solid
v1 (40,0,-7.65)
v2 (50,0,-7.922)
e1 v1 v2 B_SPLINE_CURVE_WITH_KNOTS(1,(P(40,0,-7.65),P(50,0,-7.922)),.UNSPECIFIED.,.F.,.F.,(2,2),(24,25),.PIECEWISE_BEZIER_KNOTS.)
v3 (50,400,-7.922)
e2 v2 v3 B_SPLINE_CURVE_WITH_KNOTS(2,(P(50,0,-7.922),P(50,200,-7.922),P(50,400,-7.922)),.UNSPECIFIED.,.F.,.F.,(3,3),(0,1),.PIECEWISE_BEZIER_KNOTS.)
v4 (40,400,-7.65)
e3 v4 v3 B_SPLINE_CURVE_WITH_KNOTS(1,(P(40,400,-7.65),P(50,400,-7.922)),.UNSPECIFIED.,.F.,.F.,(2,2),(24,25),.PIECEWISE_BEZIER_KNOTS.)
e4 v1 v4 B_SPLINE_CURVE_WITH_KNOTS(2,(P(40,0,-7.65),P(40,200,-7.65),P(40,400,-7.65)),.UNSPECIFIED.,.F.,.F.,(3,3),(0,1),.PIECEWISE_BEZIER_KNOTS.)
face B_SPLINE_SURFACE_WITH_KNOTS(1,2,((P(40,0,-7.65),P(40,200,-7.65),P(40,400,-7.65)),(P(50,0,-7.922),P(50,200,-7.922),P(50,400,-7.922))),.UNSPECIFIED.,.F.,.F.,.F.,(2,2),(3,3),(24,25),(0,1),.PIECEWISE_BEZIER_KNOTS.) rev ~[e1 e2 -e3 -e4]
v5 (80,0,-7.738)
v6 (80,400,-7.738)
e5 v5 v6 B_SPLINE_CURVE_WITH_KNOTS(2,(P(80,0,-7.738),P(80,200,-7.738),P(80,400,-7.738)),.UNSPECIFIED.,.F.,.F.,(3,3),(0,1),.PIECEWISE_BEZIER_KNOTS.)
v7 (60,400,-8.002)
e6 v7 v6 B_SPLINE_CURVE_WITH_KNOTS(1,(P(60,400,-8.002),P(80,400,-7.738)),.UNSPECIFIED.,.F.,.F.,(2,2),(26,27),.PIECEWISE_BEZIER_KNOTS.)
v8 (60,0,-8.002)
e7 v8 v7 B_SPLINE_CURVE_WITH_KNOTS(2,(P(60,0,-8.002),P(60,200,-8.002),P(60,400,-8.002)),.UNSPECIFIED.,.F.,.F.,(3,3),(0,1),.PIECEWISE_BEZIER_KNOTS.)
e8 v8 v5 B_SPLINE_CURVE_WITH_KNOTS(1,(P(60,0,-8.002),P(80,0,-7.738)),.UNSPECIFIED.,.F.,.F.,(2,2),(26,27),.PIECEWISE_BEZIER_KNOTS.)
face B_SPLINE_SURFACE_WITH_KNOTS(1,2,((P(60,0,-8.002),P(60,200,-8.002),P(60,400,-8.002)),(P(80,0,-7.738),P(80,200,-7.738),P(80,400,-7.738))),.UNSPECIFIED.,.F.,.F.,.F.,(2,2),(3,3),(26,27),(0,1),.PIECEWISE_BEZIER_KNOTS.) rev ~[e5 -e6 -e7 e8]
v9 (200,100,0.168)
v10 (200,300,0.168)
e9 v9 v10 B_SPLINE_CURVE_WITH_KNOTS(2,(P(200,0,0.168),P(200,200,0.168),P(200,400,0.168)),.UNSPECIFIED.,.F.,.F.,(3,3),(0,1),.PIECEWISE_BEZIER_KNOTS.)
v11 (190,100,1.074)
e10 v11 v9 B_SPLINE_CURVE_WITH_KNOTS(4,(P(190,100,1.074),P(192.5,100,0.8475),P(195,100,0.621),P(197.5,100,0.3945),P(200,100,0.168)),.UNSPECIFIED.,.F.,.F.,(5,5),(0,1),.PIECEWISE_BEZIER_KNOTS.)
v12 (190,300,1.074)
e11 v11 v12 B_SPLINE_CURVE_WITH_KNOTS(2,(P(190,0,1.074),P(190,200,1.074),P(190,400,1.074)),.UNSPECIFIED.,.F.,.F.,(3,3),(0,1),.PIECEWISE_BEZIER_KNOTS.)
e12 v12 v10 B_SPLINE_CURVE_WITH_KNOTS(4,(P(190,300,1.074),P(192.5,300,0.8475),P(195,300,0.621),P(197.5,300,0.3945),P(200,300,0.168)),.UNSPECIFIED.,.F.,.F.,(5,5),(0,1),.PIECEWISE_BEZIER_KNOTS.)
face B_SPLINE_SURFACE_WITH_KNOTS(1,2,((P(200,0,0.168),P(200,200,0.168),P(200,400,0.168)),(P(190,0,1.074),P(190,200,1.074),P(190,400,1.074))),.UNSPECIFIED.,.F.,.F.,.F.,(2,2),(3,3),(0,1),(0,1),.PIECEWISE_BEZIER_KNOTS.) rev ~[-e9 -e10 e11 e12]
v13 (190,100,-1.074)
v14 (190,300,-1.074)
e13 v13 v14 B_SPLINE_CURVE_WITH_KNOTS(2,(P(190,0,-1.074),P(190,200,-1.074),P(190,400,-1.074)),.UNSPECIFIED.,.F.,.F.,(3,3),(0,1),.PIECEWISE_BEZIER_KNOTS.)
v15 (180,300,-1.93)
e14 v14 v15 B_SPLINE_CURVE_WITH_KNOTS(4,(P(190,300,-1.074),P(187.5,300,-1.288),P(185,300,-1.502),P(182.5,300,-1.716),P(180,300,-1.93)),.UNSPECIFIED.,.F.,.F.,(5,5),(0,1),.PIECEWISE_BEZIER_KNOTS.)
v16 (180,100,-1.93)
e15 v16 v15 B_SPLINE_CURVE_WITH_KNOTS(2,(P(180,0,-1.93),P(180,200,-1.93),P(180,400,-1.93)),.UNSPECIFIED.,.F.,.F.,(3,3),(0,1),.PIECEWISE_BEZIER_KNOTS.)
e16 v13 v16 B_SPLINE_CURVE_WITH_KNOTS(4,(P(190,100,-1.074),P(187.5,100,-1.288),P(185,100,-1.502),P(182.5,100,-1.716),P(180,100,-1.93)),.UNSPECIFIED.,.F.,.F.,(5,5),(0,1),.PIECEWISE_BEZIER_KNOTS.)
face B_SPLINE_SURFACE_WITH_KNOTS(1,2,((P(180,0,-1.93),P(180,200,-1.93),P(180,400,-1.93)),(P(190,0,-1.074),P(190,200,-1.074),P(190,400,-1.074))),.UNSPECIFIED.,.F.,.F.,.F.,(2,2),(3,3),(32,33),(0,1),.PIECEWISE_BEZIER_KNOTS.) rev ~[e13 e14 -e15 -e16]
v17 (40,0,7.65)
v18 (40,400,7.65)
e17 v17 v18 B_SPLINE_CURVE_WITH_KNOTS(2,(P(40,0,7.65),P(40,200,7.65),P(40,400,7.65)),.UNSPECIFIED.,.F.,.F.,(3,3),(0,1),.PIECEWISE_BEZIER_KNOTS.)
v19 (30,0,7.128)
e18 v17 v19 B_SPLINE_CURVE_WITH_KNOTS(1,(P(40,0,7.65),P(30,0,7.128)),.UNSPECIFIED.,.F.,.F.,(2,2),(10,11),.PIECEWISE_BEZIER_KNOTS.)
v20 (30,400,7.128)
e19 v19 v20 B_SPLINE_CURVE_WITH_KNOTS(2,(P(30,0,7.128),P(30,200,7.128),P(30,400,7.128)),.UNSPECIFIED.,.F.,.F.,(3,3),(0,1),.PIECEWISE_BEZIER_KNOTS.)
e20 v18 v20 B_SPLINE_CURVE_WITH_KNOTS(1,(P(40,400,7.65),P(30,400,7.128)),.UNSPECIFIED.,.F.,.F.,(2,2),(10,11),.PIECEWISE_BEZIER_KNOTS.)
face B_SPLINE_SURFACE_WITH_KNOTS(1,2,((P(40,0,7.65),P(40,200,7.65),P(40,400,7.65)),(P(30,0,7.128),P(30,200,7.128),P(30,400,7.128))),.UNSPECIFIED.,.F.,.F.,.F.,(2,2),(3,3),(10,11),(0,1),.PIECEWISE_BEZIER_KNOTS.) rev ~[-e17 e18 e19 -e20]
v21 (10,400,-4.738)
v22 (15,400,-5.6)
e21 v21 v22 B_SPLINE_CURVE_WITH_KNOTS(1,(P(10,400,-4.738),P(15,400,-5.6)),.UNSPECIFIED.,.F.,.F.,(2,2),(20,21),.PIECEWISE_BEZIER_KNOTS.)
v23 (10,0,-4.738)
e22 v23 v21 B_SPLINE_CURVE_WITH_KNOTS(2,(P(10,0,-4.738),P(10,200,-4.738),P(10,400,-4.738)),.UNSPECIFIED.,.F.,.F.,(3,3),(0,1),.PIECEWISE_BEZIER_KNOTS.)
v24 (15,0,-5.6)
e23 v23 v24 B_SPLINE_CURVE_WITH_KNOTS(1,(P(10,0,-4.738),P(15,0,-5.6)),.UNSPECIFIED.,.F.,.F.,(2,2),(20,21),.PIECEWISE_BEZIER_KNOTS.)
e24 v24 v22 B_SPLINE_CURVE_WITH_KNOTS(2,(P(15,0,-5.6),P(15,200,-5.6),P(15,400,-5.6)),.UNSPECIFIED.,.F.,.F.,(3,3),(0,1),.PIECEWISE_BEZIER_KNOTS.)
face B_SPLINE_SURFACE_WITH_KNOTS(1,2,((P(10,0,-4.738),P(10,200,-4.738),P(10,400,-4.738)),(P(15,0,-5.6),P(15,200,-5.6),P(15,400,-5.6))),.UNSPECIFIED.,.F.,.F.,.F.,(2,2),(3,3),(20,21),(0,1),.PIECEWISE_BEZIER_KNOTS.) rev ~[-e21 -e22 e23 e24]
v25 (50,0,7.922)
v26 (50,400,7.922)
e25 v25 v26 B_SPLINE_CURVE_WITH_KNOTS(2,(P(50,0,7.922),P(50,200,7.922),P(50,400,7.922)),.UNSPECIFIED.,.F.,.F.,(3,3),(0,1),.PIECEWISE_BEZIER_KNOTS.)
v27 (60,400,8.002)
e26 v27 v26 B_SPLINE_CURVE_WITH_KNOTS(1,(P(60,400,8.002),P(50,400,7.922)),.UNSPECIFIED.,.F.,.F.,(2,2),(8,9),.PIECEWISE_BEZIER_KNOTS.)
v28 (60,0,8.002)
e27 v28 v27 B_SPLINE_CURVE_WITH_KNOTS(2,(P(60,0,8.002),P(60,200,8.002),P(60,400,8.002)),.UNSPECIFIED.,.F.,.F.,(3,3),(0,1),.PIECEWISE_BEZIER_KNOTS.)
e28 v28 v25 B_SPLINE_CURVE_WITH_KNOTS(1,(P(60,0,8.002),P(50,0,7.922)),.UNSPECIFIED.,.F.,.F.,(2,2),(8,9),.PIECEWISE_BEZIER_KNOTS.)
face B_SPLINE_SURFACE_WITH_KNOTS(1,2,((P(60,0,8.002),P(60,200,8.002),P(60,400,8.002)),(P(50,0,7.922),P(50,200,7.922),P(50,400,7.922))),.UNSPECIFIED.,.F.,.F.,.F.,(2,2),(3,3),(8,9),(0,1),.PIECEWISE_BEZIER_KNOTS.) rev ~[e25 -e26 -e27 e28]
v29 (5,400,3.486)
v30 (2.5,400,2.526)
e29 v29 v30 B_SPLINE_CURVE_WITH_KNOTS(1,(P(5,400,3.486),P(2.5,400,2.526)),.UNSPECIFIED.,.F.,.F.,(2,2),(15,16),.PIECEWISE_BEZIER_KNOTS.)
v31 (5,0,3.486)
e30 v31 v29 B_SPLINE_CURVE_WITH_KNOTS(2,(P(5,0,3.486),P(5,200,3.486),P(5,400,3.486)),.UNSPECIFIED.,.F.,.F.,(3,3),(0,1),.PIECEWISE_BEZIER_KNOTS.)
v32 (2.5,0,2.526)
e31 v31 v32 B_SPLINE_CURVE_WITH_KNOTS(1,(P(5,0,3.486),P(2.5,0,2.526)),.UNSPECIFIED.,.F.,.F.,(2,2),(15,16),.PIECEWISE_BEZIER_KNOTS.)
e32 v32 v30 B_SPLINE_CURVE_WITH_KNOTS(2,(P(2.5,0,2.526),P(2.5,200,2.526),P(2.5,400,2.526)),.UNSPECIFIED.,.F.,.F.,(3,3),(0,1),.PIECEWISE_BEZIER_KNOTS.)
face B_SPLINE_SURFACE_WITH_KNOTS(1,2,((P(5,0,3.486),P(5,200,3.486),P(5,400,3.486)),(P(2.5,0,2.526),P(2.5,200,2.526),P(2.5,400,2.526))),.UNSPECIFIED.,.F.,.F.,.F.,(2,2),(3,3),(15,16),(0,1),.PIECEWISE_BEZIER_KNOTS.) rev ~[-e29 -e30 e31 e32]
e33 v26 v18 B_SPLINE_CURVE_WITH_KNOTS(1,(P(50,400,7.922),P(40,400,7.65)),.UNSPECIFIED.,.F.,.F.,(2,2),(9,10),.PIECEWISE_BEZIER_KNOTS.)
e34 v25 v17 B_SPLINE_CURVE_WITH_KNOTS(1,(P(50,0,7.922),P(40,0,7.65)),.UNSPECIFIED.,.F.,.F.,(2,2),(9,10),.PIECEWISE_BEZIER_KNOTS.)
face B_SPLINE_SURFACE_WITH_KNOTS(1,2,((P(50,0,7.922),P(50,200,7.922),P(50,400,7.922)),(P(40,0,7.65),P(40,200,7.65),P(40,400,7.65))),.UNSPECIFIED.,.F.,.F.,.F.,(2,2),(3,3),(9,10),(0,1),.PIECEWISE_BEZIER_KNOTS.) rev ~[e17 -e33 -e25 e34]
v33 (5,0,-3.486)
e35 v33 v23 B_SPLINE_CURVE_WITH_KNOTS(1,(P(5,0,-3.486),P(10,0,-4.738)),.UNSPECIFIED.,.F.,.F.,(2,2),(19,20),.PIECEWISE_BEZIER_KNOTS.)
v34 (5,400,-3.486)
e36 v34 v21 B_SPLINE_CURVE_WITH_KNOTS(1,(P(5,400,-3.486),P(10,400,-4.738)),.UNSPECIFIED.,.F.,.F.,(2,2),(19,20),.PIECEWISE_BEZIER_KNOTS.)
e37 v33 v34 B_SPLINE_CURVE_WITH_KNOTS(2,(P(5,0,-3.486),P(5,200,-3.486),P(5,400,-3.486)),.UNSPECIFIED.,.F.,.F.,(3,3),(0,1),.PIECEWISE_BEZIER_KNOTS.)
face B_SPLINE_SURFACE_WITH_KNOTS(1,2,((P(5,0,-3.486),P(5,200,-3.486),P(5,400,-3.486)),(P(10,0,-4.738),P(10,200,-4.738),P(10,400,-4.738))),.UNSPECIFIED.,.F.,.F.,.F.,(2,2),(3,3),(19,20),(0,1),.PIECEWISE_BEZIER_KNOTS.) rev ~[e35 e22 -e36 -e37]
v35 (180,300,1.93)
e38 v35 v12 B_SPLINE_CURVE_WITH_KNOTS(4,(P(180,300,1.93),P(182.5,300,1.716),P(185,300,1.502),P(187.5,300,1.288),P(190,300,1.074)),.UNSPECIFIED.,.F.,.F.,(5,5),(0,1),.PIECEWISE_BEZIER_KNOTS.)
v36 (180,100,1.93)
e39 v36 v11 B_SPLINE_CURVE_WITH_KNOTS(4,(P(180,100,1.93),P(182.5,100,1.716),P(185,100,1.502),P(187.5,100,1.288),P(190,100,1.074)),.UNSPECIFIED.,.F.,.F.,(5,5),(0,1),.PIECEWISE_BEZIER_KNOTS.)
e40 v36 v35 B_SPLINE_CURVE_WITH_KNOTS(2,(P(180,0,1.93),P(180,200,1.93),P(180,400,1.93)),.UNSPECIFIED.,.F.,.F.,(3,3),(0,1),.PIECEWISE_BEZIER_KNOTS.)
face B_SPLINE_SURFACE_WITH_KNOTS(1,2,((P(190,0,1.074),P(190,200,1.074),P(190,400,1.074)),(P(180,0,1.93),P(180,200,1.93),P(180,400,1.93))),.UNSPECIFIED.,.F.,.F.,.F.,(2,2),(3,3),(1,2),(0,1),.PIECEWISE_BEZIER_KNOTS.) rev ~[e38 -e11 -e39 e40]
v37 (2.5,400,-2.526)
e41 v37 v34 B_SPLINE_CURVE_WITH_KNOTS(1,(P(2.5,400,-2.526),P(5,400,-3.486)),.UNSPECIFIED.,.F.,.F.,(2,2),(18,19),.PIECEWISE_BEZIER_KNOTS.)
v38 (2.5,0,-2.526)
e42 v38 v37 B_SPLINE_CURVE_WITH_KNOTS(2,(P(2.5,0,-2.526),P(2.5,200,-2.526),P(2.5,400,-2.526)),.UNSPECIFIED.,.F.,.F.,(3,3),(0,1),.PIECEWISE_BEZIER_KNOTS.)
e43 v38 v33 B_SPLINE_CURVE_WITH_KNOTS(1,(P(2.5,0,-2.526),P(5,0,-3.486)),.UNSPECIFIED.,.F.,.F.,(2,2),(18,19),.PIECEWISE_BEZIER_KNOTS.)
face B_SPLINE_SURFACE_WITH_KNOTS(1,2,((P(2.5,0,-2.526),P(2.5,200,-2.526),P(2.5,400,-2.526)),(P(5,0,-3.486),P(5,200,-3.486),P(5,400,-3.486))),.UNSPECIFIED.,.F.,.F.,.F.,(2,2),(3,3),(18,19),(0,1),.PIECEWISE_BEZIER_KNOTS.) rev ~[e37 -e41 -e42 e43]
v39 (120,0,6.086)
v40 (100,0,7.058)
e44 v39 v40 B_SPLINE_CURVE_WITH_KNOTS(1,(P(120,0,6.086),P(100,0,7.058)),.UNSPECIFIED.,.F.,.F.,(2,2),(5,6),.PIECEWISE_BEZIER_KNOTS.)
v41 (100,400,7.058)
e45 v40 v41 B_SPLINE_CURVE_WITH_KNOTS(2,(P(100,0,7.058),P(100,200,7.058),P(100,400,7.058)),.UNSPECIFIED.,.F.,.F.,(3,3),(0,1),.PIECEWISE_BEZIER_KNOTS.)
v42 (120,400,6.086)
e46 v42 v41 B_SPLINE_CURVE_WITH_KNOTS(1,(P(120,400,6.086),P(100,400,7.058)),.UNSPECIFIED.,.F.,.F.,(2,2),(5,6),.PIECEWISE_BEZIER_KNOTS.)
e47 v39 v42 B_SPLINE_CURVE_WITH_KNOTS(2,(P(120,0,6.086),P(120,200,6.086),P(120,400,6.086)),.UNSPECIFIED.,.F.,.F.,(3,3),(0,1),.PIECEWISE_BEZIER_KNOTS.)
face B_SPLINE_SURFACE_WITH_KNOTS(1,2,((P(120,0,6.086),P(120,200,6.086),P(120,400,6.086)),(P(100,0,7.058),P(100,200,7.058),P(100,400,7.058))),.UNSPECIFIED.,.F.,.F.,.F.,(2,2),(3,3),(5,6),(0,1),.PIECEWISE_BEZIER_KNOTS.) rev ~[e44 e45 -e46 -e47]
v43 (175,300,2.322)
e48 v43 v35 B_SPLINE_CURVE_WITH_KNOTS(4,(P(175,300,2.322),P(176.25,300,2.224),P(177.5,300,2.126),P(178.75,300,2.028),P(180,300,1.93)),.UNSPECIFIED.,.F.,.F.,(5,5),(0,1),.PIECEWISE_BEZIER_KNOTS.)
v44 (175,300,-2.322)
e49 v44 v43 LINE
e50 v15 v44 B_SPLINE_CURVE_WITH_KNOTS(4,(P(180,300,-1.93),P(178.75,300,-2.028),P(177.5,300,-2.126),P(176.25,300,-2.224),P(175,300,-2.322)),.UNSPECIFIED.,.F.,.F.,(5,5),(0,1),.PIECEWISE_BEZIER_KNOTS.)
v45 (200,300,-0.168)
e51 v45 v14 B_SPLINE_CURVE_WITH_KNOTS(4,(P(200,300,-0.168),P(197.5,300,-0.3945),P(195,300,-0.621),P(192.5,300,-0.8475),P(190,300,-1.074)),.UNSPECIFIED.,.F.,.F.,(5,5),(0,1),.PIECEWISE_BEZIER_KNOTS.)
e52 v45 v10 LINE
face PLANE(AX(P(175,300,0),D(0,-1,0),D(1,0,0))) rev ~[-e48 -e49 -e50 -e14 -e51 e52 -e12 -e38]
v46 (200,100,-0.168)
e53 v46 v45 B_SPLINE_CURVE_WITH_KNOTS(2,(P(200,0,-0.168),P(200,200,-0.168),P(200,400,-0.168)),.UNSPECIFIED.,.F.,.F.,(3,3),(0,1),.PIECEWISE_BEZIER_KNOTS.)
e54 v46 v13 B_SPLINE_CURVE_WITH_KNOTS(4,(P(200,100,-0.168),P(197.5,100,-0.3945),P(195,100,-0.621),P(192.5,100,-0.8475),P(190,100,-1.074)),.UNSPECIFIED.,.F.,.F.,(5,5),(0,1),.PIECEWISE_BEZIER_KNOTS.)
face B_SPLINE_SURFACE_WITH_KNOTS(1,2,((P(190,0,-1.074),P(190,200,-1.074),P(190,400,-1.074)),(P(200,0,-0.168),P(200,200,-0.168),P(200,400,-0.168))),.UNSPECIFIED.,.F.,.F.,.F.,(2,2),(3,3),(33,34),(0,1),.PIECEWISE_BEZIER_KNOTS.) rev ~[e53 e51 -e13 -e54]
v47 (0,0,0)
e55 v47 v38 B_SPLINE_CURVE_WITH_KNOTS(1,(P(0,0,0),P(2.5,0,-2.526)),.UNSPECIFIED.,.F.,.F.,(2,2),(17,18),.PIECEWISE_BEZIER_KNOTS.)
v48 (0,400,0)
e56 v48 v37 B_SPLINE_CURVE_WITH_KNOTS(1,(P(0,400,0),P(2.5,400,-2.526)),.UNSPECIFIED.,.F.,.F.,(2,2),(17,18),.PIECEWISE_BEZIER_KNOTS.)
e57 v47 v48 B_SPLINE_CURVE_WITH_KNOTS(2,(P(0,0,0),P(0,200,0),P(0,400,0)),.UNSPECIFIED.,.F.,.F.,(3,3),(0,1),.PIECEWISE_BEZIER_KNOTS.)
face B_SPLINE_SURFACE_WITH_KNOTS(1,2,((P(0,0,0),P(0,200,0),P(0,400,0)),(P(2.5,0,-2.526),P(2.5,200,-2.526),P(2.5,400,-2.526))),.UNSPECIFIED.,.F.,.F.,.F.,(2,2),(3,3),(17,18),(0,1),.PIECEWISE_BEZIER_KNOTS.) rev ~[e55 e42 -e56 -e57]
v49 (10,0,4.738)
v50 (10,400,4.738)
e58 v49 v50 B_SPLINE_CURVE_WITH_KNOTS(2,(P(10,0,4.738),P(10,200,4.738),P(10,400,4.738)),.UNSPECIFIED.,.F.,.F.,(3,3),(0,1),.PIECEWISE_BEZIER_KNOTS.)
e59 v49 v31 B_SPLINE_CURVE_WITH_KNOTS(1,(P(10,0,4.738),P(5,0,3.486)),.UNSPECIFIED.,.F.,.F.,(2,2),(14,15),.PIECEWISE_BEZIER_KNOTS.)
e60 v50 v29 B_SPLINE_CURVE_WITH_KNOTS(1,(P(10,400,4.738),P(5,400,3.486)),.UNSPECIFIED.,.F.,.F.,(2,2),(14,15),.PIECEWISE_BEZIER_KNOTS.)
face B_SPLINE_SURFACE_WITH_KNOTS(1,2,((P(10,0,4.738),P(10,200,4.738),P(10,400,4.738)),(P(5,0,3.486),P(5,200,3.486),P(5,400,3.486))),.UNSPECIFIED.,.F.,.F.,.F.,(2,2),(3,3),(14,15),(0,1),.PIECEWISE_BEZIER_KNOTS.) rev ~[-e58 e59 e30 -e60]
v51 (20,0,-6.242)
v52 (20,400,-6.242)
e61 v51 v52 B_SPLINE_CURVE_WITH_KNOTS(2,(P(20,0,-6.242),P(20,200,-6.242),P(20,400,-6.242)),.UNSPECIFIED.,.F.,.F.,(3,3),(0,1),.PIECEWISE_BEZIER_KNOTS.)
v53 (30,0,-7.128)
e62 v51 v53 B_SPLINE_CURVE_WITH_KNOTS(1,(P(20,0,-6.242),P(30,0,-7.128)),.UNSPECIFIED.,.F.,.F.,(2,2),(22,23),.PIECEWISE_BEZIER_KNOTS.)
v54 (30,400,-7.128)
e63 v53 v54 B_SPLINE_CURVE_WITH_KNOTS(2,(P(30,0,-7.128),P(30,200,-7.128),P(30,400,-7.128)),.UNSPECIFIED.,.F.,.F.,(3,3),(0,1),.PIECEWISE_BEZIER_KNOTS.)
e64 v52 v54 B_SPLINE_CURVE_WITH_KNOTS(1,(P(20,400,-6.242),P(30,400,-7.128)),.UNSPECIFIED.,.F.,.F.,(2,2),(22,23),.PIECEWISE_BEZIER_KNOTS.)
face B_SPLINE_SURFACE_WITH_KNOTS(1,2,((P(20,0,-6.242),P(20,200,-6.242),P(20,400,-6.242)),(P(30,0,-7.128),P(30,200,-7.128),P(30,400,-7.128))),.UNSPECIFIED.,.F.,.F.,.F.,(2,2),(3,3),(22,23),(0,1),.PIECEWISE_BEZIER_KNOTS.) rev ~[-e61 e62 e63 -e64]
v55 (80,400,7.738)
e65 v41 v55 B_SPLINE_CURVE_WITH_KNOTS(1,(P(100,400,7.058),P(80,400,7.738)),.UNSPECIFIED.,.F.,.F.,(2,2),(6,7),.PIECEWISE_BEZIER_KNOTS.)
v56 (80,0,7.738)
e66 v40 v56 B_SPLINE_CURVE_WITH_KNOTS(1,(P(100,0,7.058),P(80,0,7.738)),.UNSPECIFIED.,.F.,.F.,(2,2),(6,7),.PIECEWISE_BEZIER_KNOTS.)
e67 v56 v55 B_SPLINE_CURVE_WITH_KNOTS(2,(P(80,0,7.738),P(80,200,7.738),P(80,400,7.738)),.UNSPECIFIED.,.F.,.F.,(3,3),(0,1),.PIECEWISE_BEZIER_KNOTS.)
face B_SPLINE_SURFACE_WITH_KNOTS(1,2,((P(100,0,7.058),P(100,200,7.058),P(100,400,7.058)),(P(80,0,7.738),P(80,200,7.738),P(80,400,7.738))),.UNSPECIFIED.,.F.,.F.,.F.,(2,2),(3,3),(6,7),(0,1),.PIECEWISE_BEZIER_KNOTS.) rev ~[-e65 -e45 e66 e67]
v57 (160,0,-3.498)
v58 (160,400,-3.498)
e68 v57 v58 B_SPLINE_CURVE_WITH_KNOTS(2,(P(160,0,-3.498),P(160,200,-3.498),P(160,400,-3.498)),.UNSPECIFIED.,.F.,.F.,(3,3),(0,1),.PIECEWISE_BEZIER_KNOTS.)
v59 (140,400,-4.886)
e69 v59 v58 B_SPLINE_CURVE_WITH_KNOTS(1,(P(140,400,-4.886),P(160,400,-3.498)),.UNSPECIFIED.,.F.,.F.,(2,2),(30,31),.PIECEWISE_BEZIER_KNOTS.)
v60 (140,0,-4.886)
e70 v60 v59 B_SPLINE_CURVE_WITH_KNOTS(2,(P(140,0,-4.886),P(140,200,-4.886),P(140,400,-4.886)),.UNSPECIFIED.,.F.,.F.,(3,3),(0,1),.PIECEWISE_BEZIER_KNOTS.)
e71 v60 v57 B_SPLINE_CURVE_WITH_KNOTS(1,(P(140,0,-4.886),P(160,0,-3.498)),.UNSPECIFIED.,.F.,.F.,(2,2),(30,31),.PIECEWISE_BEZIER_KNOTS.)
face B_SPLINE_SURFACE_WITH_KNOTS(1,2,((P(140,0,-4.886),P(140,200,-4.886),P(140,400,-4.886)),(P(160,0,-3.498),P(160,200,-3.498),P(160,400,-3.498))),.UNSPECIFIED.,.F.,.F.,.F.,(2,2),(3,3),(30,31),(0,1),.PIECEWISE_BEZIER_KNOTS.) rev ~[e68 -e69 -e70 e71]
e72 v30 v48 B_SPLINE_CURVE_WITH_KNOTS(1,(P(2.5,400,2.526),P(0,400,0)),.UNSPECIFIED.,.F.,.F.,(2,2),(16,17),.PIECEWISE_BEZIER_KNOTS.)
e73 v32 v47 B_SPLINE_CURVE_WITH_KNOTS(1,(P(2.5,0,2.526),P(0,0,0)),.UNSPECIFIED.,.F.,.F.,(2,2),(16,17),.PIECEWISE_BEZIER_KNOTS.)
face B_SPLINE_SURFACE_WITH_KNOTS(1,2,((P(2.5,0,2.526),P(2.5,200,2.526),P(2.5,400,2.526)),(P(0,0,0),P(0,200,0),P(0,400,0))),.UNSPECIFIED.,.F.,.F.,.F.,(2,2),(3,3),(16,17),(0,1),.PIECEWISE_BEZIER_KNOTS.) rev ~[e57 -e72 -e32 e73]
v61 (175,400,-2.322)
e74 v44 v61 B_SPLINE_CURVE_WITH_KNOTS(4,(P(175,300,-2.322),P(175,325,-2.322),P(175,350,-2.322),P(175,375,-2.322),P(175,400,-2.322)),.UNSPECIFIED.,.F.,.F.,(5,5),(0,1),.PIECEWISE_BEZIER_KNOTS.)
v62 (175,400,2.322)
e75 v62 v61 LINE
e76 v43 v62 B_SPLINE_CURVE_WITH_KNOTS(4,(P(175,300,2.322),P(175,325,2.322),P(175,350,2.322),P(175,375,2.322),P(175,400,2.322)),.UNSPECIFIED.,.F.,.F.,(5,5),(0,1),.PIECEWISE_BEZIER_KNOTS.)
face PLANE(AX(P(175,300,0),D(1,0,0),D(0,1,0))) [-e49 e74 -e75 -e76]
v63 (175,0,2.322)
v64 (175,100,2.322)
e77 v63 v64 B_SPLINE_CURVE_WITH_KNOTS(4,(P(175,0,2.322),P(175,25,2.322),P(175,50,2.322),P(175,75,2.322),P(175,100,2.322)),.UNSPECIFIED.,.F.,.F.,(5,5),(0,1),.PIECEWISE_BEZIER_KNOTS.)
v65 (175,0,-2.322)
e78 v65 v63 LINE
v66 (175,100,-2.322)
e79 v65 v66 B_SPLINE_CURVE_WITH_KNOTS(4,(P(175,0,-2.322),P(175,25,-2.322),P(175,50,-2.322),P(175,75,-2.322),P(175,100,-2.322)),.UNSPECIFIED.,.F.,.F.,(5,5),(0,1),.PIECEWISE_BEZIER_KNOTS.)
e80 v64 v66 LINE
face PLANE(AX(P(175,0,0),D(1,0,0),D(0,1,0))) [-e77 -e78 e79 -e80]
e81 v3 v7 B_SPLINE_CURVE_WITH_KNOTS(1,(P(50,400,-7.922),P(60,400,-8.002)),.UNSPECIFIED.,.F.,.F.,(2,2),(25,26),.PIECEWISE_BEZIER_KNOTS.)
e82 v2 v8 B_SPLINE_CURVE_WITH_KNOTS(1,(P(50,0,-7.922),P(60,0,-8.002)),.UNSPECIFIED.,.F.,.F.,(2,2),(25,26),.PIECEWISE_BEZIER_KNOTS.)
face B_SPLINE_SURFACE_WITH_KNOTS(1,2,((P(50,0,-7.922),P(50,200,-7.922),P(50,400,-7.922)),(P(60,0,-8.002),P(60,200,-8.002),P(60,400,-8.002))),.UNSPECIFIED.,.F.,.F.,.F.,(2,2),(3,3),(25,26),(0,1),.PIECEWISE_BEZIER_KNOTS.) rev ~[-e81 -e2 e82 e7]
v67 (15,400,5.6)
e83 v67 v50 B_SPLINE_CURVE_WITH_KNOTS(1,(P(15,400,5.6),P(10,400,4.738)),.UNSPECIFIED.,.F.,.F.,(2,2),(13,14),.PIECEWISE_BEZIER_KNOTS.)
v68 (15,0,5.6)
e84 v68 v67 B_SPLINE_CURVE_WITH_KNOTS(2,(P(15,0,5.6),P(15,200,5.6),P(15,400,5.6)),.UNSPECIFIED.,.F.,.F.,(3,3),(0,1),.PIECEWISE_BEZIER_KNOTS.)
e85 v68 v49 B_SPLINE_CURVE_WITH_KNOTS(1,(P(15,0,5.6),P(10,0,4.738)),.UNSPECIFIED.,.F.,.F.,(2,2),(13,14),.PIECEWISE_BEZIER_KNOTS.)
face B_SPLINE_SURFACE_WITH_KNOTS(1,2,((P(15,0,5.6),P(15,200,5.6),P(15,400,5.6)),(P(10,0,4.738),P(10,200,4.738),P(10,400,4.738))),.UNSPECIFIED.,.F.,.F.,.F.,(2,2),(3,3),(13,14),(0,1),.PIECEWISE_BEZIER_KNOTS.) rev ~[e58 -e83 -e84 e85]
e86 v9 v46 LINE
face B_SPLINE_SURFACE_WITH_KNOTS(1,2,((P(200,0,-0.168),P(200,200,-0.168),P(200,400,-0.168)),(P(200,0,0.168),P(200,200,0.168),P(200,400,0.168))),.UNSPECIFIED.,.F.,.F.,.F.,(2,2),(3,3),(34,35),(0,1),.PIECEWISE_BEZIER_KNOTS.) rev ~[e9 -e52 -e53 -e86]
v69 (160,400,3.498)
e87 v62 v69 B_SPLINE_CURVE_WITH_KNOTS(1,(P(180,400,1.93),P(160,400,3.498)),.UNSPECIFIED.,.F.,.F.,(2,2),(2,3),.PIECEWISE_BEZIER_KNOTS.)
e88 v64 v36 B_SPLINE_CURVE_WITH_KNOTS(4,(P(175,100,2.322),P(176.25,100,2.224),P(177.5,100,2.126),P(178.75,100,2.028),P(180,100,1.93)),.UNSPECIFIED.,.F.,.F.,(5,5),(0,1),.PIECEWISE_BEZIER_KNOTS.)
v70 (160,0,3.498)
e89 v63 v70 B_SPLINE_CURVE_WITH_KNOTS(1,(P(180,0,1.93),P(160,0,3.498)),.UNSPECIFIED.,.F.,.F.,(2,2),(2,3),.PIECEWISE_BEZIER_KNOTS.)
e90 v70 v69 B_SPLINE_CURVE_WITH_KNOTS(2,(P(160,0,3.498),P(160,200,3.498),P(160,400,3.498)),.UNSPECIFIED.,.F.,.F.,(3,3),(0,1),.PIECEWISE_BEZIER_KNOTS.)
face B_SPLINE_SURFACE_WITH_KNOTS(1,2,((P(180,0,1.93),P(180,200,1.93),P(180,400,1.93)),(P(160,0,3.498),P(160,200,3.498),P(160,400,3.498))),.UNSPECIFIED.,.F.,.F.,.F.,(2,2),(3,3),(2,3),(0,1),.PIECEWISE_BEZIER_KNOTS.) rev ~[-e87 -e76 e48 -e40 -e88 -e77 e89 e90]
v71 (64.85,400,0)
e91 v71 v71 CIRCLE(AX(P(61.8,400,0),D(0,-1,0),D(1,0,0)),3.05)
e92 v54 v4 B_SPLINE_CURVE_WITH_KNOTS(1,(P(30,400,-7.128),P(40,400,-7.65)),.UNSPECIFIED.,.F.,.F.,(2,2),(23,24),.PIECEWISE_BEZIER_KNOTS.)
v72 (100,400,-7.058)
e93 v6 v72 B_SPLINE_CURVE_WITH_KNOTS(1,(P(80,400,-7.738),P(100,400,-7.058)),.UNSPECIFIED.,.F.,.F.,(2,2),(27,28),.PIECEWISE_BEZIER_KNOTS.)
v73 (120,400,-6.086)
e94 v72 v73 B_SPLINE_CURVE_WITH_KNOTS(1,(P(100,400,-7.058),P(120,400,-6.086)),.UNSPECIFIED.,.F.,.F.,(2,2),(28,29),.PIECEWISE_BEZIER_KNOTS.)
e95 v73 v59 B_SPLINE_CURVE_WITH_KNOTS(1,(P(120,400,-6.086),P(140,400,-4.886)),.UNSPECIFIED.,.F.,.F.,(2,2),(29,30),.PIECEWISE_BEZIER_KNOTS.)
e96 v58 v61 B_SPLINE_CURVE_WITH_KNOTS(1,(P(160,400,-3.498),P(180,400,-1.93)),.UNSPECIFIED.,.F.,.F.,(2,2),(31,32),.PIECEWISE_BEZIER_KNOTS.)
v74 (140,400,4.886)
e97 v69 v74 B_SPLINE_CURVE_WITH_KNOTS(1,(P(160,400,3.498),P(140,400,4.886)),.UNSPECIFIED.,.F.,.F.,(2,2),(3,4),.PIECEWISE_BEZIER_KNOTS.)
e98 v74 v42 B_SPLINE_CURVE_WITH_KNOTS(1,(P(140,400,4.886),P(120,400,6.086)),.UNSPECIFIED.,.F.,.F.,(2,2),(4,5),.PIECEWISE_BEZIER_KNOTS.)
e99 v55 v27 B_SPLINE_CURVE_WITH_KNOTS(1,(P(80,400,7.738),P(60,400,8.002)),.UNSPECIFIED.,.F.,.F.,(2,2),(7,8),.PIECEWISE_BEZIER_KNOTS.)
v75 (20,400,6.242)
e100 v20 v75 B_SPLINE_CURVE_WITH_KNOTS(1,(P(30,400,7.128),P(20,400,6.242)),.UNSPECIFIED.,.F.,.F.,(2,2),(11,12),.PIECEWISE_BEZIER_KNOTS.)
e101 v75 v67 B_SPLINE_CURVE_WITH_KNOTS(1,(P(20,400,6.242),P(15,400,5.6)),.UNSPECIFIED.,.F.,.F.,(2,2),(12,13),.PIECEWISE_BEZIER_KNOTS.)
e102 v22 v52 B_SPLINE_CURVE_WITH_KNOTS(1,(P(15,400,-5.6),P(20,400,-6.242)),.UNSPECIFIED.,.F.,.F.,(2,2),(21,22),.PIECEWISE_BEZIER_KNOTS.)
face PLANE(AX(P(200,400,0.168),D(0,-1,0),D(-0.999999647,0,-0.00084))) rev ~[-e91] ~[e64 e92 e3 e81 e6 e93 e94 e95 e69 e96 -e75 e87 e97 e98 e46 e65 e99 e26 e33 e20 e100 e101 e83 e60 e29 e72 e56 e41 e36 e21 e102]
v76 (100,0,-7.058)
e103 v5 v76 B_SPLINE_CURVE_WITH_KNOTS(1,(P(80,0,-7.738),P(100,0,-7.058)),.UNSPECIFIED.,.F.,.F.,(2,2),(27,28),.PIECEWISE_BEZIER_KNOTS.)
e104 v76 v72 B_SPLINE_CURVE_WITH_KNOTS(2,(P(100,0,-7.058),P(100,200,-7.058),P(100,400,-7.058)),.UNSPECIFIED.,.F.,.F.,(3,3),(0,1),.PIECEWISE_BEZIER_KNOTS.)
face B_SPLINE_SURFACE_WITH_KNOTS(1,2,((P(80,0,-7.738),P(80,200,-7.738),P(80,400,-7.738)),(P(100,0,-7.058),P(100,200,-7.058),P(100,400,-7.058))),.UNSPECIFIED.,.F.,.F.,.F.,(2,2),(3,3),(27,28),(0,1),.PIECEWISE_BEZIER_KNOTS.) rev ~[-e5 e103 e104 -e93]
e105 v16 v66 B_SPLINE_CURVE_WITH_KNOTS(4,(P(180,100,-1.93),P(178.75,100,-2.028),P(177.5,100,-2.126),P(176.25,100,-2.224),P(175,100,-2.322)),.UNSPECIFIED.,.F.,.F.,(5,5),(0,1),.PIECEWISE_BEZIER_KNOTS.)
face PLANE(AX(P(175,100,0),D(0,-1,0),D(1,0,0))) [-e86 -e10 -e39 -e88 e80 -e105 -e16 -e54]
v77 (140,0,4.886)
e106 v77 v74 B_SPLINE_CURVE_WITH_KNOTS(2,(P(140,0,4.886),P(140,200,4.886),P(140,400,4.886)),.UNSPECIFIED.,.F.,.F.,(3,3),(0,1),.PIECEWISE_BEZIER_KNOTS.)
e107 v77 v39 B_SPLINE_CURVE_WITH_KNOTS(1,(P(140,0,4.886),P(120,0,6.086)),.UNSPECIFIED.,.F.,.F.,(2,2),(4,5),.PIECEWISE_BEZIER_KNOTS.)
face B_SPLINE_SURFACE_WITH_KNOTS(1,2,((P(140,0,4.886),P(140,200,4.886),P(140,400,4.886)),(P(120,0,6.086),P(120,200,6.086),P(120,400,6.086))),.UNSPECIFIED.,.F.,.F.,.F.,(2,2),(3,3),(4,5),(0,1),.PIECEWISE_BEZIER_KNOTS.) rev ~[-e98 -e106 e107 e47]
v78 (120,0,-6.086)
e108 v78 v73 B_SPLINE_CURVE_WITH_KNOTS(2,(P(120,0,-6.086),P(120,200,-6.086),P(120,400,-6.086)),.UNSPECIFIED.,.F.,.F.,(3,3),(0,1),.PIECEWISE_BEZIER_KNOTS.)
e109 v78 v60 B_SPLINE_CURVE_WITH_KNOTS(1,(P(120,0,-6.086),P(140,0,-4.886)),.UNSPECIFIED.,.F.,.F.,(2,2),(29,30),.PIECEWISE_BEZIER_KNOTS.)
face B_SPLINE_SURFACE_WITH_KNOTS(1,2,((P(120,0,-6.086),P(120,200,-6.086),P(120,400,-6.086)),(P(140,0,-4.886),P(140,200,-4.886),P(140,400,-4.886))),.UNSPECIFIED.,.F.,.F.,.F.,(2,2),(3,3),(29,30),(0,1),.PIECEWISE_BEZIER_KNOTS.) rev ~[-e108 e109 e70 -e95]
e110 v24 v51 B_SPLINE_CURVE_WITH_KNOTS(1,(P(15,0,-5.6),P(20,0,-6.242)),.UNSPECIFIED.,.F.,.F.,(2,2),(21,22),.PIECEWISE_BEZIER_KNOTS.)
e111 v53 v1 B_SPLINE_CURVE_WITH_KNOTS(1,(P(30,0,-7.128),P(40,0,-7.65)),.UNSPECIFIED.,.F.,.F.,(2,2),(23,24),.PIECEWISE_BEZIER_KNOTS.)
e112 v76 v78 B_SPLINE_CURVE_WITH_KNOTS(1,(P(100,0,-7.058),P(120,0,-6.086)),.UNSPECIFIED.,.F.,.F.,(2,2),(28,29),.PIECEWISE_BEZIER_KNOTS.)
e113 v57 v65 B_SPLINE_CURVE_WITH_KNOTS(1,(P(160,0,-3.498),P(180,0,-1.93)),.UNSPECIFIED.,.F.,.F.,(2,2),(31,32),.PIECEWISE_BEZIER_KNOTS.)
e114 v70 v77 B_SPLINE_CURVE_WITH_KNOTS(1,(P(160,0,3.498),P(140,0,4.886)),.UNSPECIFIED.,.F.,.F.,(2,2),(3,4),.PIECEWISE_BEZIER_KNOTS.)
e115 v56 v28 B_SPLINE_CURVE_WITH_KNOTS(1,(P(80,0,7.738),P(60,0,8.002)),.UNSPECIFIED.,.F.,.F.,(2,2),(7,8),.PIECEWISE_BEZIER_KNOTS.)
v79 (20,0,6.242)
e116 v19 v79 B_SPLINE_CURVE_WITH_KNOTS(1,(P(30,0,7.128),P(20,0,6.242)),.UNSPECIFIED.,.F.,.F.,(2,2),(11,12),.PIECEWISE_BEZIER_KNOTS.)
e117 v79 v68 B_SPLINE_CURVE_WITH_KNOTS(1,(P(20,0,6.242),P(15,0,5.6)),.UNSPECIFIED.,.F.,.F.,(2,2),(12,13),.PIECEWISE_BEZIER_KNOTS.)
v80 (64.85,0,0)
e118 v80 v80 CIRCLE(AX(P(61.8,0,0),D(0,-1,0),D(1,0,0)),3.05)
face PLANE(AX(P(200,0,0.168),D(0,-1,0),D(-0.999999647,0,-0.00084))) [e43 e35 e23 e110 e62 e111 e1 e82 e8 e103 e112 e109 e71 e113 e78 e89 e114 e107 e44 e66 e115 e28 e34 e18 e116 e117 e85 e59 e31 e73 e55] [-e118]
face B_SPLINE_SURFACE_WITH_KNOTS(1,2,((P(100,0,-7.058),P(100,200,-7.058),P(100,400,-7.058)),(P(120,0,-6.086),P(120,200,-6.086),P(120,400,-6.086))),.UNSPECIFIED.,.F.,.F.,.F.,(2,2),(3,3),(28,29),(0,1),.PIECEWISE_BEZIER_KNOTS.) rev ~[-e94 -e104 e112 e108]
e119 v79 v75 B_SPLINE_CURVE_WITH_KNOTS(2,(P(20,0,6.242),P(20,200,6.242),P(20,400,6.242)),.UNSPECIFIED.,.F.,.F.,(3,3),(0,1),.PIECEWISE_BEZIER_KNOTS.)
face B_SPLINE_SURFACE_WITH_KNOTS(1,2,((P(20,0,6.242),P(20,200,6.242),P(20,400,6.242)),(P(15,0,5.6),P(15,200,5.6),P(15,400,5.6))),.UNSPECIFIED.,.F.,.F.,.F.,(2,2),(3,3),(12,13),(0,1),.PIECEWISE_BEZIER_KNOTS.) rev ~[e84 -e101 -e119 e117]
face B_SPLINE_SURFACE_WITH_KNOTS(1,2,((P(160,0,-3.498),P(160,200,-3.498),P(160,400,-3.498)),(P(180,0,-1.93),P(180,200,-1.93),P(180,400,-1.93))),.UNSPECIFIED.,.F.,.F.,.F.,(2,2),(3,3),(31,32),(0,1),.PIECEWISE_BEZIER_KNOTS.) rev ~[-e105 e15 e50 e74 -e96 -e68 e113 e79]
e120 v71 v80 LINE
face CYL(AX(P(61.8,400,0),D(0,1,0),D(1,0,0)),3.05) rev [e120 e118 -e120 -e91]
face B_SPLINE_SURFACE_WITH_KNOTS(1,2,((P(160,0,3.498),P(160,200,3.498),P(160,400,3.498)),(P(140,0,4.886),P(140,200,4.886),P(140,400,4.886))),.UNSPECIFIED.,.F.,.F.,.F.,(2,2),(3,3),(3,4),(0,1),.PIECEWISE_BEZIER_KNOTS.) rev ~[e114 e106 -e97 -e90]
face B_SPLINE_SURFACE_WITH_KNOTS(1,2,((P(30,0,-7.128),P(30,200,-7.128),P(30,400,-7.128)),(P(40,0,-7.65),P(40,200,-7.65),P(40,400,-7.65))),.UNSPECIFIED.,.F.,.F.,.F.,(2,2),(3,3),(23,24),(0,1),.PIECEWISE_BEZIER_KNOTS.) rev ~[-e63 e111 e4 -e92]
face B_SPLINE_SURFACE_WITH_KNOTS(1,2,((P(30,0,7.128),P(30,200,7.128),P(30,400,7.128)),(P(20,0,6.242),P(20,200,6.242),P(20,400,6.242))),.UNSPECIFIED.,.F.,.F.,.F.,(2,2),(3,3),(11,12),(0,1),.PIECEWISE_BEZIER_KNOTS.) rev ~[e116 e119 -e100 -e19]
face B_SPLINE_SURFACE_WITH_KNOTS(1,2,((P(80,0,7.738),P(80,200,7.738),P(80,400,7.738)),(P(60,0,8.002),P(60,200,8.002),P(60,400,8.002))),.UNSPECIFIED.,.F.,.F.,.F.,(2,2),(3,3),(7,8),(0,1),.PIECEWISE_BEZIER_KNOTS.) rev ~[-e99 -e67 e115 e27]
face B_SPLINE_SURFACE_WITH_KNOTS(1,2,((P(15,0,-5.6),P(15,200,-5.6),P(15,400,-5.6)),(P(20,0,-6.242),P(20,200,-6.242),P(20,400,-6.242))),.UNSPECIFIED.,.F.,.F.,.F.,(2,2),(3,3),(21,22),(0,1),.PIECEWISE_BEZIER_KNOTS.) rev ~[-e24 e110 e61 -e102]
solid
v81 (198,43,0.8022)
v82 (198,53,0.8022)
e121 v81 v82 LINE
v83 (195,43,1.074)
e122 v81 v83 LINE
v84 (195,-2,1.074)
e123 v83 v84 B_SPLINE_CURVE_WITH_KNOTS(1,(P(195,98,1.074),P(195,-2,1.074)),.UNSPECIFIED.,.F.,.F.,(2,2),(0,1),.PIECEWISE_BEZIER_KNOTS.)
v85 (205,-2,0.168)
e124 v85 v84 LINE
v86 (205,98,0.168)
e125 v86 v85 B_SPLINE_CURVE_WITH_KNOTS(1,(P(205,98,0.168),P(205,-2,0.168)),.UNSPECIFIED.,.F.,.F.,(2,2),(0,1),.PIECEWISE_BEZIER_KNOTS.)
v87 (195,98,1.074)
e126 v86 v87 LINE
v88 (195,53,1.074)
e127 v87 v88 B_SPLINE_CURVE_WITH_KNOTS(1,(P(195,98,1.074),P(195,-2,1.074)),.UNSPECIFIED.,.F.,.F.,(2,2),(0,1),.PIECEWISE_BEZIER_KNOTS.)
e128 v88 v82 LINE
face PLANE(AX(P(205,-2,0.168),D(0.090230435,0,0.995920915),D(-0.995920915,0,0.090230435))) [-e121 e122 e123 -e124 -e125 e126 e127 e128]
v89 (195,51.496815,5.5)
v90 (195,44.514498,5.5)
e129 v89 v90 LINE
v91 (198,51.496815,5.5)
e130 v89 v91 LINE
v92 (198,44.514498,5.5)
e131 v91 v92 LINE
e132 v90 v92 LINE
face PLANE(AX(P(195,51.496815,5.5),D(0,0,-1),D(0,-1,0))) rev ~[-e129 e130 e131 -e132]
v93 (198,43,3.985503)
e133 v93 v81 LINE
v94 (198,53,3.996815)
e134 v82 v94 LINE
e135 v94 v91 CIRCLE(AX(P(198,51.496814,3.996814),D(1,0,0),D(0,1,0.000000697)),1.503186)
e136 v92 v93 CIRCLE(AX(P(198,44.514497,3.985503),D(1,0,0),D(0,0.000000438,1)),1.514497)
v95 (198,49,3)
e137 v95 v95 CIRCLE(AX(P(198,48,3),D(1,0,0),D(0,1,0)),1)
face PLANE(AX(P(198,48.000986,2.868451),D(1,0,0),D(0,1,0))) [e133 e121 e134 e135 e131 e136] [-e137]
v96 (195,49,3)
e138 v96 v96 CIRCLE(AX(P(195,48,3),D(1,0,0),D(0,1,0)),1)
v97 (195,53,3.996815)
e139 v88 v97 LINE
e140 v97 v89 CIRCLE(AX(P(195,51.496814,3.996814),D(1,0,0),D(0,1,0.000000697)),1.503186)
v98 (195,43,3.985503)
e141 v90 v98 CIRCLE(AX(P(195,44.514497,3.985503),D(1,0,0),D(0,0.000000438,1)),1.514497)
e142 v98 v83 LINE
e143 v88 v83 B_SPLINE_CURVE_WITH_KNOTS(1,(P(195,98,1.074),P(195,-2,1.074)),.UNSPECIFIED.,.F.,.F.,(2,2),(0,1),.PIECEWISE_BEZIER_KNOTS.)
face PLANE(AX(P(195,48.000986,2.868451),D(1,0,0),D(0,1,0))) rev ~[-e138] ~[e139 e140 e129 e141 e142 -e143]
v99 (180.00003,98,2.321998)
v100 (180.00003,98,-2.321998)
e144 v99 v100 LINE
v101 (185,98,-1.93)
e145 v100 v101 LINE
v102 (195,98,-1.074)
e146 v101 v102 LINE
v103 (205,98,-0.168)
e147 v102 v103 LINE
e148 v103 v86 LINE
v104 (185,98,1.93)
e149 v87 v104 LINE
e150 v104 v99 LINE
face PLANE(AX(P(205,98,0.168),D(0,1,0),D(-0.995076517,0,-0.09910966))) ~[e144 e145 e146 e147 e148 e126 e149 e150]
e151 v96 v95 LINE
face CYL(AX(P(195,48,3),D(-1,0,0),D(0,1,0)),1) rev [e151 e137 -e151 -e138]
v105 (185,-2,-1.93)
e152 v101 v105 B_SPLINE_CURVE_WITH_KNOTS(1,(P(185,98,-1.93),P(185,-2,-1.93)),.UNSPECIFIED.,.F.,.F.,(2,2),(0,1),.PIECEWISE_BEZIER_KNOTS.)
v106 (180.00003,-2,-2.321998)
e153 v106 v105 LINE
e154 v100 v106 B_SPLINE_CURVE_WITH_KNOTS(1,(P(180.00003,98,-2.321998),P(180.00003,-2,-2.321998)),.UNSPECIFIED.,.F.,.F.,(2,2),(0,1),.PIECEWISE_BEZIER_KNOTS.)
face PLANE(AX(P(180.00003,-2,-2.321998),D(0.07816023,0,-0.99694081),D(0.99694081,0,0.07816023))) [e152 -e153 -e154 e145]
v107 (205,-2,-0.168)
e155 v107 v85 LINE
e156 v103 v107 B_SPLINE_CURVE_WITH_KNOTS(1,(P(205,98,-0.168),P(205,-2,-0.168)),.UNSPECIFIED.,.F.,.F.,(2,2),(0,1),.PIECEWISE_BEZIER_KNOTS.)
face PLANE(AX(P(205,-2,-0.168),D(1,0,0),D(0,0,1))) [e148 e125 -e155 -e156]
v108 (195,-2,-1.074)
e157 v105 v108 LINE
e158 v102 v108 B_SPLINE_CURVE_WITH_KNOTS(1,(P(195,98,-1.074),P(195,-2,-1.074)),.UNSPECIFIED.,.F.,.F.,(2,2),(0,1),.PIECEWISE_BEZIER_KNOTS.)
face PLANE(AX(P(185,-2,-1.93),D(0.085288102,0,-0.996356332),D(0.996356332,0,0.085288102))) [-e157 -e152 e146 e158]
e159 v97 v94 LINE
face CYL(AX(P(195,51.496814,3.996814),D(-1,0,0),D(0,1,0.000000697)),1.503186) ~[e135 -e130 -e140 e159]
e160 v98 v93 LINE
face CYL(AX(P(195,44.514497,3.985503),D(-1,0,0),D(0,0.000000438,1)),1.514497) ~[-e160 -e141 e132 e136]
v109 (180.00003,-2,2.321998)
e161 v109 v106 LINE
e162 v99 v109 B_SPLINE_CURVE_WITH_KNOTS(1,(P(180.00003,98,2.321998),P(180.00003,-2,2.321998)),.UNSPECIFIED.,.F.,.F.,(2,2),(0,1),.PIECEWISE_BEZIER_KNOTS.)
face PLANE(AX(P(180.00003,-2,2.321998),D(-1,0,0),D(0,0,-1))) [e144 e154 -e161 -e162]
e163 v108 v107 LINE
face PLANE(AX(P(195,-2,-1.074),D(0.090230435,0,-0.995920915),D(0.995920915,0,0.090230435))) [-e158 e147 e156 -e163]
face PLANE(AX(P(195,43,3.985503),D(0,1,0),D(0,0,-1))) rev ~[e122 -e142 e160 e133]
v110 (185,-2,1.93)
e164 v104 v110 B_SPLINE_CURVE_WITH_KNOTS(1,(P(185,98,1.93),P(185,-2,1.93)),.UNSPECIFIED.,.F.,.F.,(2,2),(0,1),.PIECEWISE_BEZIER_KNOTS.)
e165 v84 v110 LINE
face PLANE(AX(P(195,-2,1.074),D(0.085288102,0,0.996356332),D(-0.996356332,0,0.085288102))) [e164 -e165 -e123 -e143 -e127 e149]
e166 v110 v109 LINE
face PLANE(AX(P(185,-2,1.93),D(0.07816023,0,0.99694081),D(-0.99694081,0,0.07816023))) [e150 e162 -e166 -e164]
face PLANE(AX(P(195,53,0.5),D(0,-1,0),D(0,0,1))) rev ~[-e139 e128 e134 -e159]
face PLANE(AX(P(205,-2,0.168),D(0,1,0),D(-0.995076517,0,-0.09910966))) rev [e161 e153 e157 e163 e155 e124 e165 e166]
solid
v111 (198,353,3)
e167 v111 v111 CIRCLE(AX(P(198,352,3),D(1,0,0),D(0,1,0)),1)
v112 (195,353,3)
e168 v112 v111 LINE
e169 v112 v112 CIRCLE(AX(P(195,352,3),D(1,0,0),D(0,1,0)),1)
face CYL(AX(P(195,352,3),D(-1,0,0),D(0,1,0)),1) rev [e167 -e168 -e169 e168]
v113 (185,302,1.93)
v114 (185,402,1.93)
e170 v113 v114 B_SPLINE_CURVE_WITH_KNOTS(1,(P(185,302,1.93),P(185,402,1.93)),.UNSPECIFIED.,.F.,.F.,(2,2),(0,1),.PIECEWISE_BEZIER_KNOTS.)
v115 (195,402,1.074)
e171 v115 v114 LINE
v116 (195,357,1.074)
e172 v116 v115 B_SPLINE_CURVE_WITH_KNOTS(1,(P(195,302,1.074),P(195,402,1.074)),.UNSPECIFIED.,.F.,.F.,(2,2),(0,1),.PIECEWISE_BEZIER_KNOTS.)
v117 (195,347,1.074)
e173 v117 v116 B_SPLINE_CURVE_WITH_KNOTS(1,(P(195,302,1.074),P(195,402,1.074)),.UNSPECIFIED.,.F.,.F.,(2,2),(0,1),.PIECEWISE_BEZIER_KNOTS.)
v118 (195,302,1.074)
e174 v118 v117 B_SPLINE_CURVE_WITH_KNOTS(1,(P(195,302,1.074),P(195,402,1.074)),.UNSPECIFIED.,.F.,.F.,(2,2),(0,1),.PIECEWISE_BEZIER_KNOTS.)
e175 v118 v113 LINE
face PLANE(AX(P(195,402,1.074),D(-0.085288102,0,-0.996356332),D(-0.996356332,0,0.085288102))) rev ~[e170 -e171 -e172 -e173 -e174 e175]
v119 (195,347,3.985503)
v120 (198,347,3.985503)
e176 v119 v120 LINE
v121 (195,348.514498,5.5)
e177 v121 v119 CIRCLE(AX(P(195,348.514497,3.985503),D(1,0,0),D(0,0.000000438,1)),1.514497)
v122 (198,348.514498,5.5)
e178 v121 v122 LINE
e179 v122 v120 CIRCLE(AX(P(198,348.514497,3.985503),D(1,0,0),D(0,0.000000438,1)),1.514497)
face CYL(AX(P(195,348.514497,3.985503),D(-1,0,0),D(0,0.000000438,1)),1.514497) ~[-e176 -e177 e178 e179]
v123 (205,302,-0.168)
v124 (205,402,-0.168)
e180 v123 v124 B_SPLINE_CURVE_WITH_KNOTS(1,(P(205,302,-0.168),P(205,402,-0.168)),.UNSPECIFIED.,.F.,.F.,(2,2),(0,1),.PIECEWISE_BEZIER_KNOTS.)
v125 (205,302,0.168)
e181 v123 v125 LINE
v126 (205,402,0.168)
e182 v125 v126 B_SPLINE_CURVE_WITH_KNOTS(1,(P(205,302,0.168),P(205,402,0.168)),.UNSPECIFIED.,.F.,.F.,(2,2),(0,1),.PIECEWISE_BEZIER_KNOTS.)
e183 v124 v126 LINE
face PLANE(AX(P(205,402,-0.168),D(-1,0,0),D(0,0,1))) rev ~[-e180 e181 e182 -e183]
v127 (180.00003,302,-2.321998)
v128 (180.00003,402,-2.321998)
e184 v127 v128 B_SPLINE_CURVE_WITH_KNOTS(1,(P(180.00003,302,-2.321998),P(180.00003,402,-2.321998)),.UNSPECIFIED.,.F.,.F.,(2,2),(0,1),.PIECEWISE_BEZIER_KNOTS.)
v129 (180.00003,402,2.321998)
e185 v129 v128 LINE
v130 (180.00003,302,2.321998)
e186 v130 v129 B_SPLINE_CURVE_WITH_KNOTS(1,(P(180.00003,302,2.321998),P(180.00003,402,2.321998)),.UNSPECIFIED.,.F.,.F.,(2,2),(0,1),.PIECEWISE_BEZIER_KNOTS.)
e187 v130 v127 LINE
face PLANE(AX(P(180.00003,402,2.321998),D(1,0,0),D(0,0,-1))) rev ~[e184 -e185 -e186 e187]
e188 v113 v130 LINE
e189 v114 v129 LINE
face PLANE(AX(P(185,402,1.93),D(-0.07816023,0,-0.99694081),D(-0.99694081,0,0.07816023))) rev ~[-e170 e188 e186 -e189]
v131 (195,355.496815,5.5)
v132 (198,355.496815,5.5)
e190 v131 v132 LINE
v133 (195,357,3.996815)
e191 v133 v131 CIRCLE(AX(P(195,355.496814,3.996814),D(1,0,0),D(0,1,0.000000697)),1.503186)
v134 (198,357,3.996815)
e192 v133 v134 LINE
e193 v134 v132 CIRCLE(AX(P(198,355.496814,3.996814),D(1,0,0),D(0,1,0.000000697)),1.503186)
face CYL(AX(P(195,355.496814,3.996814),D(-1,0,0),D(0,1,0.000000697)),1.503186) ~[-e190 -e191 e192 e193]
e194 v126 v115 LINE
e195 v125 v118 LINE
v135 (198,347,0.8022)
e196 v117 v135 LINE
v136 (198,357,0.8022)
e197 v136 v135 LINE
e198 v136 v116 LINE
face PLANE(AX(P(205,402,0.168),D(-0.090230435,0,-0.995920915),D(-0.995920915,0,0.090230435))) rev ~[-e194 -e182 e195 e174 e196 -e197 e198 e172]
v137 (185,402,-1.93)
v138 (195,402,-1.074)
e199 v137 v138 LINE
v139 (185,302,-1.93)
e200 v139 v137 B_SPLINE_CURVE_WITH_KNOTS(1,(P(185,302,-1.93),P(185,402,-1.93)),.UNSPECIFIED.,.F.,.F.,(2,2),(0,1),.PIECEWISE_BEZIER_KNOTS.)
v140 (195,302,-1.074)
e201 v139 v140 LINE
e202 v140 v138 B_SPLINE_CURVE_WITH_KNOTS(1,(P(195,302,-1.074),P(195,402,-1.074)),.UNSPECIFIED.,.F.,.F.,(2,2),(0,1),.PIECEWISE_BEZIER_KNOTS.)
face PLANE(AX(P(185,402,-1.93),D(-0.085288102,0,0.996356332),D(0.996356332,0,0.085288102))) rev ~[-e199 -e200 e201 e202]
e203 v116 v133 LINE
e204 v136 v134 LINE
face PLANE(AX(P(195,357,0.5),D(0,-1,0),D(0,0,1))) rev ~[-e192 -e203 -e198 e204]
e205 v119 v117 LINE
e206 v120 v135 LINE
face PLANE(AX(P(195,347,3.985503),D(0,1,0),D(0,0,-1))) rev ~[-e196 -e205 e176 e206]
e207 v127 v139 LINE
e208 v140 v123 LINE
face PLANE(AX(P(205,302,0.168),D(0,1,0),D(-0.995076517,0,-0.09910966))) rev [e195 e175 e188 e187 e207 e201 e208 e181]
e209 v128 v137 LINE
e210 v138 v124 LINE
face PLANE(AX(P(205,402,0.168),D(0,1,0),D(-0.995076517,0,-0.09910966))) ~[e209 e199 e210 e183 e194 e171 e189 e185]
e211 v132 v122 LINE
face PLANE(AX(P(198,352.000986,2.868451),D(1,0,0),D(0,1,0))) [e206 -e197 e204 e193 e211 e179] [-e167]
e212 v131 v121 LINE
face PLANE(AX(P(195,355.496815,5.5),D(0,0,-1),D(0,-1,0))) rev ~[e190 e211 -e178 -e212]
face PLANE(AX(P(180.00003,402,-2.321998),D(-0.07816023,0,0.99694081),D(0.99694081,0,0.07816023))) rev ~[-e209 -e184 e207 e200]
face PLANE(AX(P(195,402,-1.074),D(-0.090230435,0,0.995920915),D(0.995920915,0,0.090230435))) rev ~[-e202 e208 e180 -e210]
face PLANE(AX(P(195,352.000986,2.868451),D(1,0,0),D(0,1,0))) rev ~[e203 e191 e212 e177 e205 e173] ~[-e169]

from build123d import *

# Parameters (mm, degrees)
SKETCH005_W    = 25
SKETCH005_H    = 100
PAD_DEPTH      = 10
SKETCH006_W    = 25
SKETCH006_H    = 100
PAD001_DEPTH   = 10
CYLINDER_R     = 3.05
CYLINDER_DEPTH = 400
SKETCH012_R    = 1
PAD003_DEPTH   = 3
SKETCH011_R    = 1
PAD002_DEPTH   = 3


with BuildPart() as body:
    # Sketch005 → Pad (new body, symmetric)
    with BuildSketch(Plane.XY):
        with Locations((187.5, 50)):
            Rectangle(SKETCH005_W, SKETCH005_H)
    extrude(amount=PAD_DEPTH, both=True)


with BuildPart() as body002:
    # Sketch006 → Pad001 (new body, symmetric)
    with BuildSketch(Plane(origin=(0, 300, 0), x_dir=(1, 0, 0), z_dir=(0, 0, 1))):
        with Locations((187.5, 50)):
            Rectangle(SKETCH006_W, SKETCH006_H)
    extrude(amount=PAD001_DEPTH, both=True)


with BuildPart() as body003:
    # Cylinder → Cylinder (join)
    with BuildSketch(Plane(origin=(61.8, 400, 0), x_dir=(1, 0, 0), z_dir=(0, -1, 0))):
        Circle(CYLINDER_R)
    extrude(amount=CYLINDER_DEPTH)


with BuildPart() as stab:
    # Sketch → AdditiveLoft section 0
    with BuildSketch(Plane.XZ):
        Polygon((200, 0.168), (190, 1.074), (180, 1.93), (160, 3.498), (140, 4.886), (120, 6.086), (100, 7.058), (80, 7.738), (60, 8.002), (50, 7.922), (40, 7.65), (30, 7.128), (20, 6.242), (15, 5.6), (10, 4.738), (5, 3.486), (2.5, 2.526), (0, 0), (2.5, -2.526), (5, -3.486), (10, -4.738), (15, -5.6), (20, -6.242), (30, -7.128), (40, -7.65), (50, -7.922), (60, -8.002), (80, -7.738), (100, -7.058), (120, -6.086), (140, -4.886), (160, -3.498), (180, -1.93), (190, -1.074), (200, -0.168), align=None)
    # Sketch001 → AdditiveLoft section 1
    with BuildSketch(Plane.XZ.offset(-100)):
        Polygon((200, 0.168), (190, 1.074), (180, 1.93), (160, 3.498), (140, 4.886), (120, 6.086), (100, 7.058), (80, 7.738), (60, 8.002), (50, 7.922), (40, 7.65), (30, 7.128), (20, 6.242), (15, 5.6), (10, 4.738), (5, 3.486), (2.5, 2.526), (0, 0), (2.5, -2.526), (5, -3.486), (10, -4.738), (15, -5.6), (20, -6.242), (30, -7.128), (40, -7.65), (50, -7.922), (60, -8.002), (80, -7.738), (100, -7.058), (120, -6.086), (140, -4.886), (160, -3.498), (180, -1.93), (190, -1.074), (200, -0.168), align=None)
    # Sketch002 → AdditiveLoft section 2
    with BuildSketch(Plane.XZ.offset(-200)):
        Polygon((200, 0.168), (190, 1.074), (180, 1.93), (160, 3.498), (140, 4.886), (120, 6.086), (100, 7.058), (80, 7.738), (60, 8.002), (50, 7.922), (40, 7.65), (30, 7.128), (20, 6.242), (15, 5.6), (10, 4.738), (5, 3.486), (2.5, 2.526), (0, 0), (2.5, -2.526), (5, -3.486), (10, -4.738), (15, -5.6), (20, -6.242), (30, -7.128), (40, -7.65), (50, -7.922), (60, -8.002), (80, -7.738), (100, -7.058), (120, -6.086), (140, -4.886), (160, -3.498), (180, -1.93), (190, -1.074), (200, -0.168), align=None)
    # Sketch003 → AdditiveLoft section 3
    with BuildSketch(Plane.XZ.offset(-300)):
        Polygon((200, 0.168), (190, 1.074), (180, 1.93), (160, 3.498), (140, 4.886), (120, 6.086), (100, 7.058), (80, 7.738), (60, 8.002), (50, 7.922), (40, 7.65), (30, 7.128), (20, 6.242), (15, 5.6), (10, 4.738), (5, 3.486), (2.5, 2.526), (0, 0), (2.5, -2.526), (5, -3.486), (10, -4.738), (15, -5.6), (20, -6.242), (30, -7.128), (40, -7.65), (50, -7.922), (60, -8.002), (80, -7.738), (100, -7.058), (120, -6.086), (140, -4.886), (160, -3.498), (180, -1.93), (190, -1.074), (200, -0.168), align=None)
    # Sketch004 → AdditiveLoft section 4
    with BuildSketch(Plane.XZ.offset(-400)):
        Polygon((200, 0.168), (190, 1.074), (180, 1.93), (160, 3.498), (140, 4.886), (120, 6.086), (100, 7.058), (80, 7.738), (60, 8.002), (50, 7.922), (40, 7.65), (30, 7.128), (20, 6.242), (15, 5.6), (10, 4.738), (5, 3.486), (2.5, 2.526), (0, 0), (2.5, -2.526), (5, -3.486), (10, -4.738), (15, -5.6), (20, -6.242), (30, -7.128), (40, -7.65), (50, -7.922), (60, -8.002), (80, -7.738), (100, -7.058), (120, -6.086), (140, -4.886), (160, -3.498), (180, -1.93), (190, -1.074), (200, -0.168), align=None)
    loft()

    # Boolean: cut Body, Body002, Body003
    add(body.part, mode=Mode.SUBTRACT)
    add(body002.part, mode=Mode.SUBTRACT)
    add(body003.part, mode=Mode.SUBTRACT)


with BuildPart() as body007:
    # Sketch012 → Pad003 (new body)
    with BuildSketch(Plane.YZ):
        with BuildLine():
            Line((-5, -2.5), (5, -2.5))
            Line((5, -2.5), (5, 0.996815))
            ThreePointArc((5, 0.996815), (4.559727, 2.059727), (3.496815, 2.5))
            Line((3.496815, 2.5), (-3.485502, 2.5))
            ThreePointArc((-3.485502, 2.5), (-4.556414, 2.056414), (-5, 0.985503))
            Line((-5, 0.985503), (-5, -2.5))
        make_face()
        Circle(SKETCH012_R, mode=Mode.SUBTRACT)
    extrude(amount=PAD003_DEPTH)


with BuildPart() as body007_1:
    # Body007 placement: moved
    add(body007.part.moved(Location((195, 352, 3))))


with BuildPart() as trim_right:
    # Sketch007 → AdditiveLoft001 section 0
    with BuildSketch(Plane(origin=(5, 302, 0), x_dir=(1, 0, 0), z_dir=(0, -1, 0))):
        Polygon((200, 0.168), (190, 1.074), (180, 1.93), (175.00003, 2.321998), (175.00003, -2.321998), (180, -1.93), (190, -1.074), (200, -0.168), align=None)
    # Sketch008 → AdditiveLoft001 section 1
    with BuildSketch(Plane(origin=(5, 402, 0), x_dir=(1, 0, 0), z_dir=(0, -1, 0))):
        Polygon((200, 0.168), (190, 1.074), (180, 1.93), (175.00003, 2.321998), (175.00003, -2.321998), (180, -1.93), (190, -1.074), (200, -0.168), align=None)
    loft()

    # Boolean001: union Body007
    add(body007_1.part)


with BuildPart() as body006:
    # Sketch011 → Pad002 (new body)
    with BuildSketch(Plane.YZ):
        with BuildLine():
            Line((-5, -2.5), (5, -2.5))
            Line((5, -2.5), (5, 0.996815))
            ThreePointArc((5, 0.996815), (4.559727, 2.059727), (3.496815, 2.5))
            Line((3.496815, 2.5), (-3.485502, 2.5))
            ThreePointArc((-3.485502, 2.5), (-4.556414, 2.056414), (-5, 0.985503))
            Line((-5, 0.985503), (-5, -2.5))
        make_face()
        Circle(SKETCH011_R, mode=Mode.SUBTRACT)
    extrude(amount=PAD002_DEPTH)


with BuildPart() as body006_1:
    # Body006 placement: moved
    add(body006.part.moved(Location((195, 48, 3))))


with BuildPart() as trim_left:
    # Sketch010 → AdditiveLoft002 section 0
    with BuildSketch(Plane(origin=(5, 98, 0), x_dir=(1, 0, 0), z_dir=(0, -1, 0))):
        Polygon((200, 0.168), (190, 1.074), (180, 1.93), (175.00003, 2.321998), (175.00003, -2.321998), (180, -1.93), (190, -1.074), (200, -0.168), align=None)
    # Sketch009 → AdditiveLoft002 section 1
    with BuildSketch(Plane(origin=(5, -2, 0), x_dir=(1, 0, 0), z_dir=(0, -1, 0))):
        Polygon((200, 0.168), (190, 1.074), (180, 1.93), (175.00003, 2.321998), (175.00003, -2.321998), (180, -1.93), (190, -1.074), (200, -0.168), align=None)
    loft()

    # Boolean002: union Body006
    add(body006_1.part)


solid = Compound([stab.part, trim_right.part, trim_left.part])
